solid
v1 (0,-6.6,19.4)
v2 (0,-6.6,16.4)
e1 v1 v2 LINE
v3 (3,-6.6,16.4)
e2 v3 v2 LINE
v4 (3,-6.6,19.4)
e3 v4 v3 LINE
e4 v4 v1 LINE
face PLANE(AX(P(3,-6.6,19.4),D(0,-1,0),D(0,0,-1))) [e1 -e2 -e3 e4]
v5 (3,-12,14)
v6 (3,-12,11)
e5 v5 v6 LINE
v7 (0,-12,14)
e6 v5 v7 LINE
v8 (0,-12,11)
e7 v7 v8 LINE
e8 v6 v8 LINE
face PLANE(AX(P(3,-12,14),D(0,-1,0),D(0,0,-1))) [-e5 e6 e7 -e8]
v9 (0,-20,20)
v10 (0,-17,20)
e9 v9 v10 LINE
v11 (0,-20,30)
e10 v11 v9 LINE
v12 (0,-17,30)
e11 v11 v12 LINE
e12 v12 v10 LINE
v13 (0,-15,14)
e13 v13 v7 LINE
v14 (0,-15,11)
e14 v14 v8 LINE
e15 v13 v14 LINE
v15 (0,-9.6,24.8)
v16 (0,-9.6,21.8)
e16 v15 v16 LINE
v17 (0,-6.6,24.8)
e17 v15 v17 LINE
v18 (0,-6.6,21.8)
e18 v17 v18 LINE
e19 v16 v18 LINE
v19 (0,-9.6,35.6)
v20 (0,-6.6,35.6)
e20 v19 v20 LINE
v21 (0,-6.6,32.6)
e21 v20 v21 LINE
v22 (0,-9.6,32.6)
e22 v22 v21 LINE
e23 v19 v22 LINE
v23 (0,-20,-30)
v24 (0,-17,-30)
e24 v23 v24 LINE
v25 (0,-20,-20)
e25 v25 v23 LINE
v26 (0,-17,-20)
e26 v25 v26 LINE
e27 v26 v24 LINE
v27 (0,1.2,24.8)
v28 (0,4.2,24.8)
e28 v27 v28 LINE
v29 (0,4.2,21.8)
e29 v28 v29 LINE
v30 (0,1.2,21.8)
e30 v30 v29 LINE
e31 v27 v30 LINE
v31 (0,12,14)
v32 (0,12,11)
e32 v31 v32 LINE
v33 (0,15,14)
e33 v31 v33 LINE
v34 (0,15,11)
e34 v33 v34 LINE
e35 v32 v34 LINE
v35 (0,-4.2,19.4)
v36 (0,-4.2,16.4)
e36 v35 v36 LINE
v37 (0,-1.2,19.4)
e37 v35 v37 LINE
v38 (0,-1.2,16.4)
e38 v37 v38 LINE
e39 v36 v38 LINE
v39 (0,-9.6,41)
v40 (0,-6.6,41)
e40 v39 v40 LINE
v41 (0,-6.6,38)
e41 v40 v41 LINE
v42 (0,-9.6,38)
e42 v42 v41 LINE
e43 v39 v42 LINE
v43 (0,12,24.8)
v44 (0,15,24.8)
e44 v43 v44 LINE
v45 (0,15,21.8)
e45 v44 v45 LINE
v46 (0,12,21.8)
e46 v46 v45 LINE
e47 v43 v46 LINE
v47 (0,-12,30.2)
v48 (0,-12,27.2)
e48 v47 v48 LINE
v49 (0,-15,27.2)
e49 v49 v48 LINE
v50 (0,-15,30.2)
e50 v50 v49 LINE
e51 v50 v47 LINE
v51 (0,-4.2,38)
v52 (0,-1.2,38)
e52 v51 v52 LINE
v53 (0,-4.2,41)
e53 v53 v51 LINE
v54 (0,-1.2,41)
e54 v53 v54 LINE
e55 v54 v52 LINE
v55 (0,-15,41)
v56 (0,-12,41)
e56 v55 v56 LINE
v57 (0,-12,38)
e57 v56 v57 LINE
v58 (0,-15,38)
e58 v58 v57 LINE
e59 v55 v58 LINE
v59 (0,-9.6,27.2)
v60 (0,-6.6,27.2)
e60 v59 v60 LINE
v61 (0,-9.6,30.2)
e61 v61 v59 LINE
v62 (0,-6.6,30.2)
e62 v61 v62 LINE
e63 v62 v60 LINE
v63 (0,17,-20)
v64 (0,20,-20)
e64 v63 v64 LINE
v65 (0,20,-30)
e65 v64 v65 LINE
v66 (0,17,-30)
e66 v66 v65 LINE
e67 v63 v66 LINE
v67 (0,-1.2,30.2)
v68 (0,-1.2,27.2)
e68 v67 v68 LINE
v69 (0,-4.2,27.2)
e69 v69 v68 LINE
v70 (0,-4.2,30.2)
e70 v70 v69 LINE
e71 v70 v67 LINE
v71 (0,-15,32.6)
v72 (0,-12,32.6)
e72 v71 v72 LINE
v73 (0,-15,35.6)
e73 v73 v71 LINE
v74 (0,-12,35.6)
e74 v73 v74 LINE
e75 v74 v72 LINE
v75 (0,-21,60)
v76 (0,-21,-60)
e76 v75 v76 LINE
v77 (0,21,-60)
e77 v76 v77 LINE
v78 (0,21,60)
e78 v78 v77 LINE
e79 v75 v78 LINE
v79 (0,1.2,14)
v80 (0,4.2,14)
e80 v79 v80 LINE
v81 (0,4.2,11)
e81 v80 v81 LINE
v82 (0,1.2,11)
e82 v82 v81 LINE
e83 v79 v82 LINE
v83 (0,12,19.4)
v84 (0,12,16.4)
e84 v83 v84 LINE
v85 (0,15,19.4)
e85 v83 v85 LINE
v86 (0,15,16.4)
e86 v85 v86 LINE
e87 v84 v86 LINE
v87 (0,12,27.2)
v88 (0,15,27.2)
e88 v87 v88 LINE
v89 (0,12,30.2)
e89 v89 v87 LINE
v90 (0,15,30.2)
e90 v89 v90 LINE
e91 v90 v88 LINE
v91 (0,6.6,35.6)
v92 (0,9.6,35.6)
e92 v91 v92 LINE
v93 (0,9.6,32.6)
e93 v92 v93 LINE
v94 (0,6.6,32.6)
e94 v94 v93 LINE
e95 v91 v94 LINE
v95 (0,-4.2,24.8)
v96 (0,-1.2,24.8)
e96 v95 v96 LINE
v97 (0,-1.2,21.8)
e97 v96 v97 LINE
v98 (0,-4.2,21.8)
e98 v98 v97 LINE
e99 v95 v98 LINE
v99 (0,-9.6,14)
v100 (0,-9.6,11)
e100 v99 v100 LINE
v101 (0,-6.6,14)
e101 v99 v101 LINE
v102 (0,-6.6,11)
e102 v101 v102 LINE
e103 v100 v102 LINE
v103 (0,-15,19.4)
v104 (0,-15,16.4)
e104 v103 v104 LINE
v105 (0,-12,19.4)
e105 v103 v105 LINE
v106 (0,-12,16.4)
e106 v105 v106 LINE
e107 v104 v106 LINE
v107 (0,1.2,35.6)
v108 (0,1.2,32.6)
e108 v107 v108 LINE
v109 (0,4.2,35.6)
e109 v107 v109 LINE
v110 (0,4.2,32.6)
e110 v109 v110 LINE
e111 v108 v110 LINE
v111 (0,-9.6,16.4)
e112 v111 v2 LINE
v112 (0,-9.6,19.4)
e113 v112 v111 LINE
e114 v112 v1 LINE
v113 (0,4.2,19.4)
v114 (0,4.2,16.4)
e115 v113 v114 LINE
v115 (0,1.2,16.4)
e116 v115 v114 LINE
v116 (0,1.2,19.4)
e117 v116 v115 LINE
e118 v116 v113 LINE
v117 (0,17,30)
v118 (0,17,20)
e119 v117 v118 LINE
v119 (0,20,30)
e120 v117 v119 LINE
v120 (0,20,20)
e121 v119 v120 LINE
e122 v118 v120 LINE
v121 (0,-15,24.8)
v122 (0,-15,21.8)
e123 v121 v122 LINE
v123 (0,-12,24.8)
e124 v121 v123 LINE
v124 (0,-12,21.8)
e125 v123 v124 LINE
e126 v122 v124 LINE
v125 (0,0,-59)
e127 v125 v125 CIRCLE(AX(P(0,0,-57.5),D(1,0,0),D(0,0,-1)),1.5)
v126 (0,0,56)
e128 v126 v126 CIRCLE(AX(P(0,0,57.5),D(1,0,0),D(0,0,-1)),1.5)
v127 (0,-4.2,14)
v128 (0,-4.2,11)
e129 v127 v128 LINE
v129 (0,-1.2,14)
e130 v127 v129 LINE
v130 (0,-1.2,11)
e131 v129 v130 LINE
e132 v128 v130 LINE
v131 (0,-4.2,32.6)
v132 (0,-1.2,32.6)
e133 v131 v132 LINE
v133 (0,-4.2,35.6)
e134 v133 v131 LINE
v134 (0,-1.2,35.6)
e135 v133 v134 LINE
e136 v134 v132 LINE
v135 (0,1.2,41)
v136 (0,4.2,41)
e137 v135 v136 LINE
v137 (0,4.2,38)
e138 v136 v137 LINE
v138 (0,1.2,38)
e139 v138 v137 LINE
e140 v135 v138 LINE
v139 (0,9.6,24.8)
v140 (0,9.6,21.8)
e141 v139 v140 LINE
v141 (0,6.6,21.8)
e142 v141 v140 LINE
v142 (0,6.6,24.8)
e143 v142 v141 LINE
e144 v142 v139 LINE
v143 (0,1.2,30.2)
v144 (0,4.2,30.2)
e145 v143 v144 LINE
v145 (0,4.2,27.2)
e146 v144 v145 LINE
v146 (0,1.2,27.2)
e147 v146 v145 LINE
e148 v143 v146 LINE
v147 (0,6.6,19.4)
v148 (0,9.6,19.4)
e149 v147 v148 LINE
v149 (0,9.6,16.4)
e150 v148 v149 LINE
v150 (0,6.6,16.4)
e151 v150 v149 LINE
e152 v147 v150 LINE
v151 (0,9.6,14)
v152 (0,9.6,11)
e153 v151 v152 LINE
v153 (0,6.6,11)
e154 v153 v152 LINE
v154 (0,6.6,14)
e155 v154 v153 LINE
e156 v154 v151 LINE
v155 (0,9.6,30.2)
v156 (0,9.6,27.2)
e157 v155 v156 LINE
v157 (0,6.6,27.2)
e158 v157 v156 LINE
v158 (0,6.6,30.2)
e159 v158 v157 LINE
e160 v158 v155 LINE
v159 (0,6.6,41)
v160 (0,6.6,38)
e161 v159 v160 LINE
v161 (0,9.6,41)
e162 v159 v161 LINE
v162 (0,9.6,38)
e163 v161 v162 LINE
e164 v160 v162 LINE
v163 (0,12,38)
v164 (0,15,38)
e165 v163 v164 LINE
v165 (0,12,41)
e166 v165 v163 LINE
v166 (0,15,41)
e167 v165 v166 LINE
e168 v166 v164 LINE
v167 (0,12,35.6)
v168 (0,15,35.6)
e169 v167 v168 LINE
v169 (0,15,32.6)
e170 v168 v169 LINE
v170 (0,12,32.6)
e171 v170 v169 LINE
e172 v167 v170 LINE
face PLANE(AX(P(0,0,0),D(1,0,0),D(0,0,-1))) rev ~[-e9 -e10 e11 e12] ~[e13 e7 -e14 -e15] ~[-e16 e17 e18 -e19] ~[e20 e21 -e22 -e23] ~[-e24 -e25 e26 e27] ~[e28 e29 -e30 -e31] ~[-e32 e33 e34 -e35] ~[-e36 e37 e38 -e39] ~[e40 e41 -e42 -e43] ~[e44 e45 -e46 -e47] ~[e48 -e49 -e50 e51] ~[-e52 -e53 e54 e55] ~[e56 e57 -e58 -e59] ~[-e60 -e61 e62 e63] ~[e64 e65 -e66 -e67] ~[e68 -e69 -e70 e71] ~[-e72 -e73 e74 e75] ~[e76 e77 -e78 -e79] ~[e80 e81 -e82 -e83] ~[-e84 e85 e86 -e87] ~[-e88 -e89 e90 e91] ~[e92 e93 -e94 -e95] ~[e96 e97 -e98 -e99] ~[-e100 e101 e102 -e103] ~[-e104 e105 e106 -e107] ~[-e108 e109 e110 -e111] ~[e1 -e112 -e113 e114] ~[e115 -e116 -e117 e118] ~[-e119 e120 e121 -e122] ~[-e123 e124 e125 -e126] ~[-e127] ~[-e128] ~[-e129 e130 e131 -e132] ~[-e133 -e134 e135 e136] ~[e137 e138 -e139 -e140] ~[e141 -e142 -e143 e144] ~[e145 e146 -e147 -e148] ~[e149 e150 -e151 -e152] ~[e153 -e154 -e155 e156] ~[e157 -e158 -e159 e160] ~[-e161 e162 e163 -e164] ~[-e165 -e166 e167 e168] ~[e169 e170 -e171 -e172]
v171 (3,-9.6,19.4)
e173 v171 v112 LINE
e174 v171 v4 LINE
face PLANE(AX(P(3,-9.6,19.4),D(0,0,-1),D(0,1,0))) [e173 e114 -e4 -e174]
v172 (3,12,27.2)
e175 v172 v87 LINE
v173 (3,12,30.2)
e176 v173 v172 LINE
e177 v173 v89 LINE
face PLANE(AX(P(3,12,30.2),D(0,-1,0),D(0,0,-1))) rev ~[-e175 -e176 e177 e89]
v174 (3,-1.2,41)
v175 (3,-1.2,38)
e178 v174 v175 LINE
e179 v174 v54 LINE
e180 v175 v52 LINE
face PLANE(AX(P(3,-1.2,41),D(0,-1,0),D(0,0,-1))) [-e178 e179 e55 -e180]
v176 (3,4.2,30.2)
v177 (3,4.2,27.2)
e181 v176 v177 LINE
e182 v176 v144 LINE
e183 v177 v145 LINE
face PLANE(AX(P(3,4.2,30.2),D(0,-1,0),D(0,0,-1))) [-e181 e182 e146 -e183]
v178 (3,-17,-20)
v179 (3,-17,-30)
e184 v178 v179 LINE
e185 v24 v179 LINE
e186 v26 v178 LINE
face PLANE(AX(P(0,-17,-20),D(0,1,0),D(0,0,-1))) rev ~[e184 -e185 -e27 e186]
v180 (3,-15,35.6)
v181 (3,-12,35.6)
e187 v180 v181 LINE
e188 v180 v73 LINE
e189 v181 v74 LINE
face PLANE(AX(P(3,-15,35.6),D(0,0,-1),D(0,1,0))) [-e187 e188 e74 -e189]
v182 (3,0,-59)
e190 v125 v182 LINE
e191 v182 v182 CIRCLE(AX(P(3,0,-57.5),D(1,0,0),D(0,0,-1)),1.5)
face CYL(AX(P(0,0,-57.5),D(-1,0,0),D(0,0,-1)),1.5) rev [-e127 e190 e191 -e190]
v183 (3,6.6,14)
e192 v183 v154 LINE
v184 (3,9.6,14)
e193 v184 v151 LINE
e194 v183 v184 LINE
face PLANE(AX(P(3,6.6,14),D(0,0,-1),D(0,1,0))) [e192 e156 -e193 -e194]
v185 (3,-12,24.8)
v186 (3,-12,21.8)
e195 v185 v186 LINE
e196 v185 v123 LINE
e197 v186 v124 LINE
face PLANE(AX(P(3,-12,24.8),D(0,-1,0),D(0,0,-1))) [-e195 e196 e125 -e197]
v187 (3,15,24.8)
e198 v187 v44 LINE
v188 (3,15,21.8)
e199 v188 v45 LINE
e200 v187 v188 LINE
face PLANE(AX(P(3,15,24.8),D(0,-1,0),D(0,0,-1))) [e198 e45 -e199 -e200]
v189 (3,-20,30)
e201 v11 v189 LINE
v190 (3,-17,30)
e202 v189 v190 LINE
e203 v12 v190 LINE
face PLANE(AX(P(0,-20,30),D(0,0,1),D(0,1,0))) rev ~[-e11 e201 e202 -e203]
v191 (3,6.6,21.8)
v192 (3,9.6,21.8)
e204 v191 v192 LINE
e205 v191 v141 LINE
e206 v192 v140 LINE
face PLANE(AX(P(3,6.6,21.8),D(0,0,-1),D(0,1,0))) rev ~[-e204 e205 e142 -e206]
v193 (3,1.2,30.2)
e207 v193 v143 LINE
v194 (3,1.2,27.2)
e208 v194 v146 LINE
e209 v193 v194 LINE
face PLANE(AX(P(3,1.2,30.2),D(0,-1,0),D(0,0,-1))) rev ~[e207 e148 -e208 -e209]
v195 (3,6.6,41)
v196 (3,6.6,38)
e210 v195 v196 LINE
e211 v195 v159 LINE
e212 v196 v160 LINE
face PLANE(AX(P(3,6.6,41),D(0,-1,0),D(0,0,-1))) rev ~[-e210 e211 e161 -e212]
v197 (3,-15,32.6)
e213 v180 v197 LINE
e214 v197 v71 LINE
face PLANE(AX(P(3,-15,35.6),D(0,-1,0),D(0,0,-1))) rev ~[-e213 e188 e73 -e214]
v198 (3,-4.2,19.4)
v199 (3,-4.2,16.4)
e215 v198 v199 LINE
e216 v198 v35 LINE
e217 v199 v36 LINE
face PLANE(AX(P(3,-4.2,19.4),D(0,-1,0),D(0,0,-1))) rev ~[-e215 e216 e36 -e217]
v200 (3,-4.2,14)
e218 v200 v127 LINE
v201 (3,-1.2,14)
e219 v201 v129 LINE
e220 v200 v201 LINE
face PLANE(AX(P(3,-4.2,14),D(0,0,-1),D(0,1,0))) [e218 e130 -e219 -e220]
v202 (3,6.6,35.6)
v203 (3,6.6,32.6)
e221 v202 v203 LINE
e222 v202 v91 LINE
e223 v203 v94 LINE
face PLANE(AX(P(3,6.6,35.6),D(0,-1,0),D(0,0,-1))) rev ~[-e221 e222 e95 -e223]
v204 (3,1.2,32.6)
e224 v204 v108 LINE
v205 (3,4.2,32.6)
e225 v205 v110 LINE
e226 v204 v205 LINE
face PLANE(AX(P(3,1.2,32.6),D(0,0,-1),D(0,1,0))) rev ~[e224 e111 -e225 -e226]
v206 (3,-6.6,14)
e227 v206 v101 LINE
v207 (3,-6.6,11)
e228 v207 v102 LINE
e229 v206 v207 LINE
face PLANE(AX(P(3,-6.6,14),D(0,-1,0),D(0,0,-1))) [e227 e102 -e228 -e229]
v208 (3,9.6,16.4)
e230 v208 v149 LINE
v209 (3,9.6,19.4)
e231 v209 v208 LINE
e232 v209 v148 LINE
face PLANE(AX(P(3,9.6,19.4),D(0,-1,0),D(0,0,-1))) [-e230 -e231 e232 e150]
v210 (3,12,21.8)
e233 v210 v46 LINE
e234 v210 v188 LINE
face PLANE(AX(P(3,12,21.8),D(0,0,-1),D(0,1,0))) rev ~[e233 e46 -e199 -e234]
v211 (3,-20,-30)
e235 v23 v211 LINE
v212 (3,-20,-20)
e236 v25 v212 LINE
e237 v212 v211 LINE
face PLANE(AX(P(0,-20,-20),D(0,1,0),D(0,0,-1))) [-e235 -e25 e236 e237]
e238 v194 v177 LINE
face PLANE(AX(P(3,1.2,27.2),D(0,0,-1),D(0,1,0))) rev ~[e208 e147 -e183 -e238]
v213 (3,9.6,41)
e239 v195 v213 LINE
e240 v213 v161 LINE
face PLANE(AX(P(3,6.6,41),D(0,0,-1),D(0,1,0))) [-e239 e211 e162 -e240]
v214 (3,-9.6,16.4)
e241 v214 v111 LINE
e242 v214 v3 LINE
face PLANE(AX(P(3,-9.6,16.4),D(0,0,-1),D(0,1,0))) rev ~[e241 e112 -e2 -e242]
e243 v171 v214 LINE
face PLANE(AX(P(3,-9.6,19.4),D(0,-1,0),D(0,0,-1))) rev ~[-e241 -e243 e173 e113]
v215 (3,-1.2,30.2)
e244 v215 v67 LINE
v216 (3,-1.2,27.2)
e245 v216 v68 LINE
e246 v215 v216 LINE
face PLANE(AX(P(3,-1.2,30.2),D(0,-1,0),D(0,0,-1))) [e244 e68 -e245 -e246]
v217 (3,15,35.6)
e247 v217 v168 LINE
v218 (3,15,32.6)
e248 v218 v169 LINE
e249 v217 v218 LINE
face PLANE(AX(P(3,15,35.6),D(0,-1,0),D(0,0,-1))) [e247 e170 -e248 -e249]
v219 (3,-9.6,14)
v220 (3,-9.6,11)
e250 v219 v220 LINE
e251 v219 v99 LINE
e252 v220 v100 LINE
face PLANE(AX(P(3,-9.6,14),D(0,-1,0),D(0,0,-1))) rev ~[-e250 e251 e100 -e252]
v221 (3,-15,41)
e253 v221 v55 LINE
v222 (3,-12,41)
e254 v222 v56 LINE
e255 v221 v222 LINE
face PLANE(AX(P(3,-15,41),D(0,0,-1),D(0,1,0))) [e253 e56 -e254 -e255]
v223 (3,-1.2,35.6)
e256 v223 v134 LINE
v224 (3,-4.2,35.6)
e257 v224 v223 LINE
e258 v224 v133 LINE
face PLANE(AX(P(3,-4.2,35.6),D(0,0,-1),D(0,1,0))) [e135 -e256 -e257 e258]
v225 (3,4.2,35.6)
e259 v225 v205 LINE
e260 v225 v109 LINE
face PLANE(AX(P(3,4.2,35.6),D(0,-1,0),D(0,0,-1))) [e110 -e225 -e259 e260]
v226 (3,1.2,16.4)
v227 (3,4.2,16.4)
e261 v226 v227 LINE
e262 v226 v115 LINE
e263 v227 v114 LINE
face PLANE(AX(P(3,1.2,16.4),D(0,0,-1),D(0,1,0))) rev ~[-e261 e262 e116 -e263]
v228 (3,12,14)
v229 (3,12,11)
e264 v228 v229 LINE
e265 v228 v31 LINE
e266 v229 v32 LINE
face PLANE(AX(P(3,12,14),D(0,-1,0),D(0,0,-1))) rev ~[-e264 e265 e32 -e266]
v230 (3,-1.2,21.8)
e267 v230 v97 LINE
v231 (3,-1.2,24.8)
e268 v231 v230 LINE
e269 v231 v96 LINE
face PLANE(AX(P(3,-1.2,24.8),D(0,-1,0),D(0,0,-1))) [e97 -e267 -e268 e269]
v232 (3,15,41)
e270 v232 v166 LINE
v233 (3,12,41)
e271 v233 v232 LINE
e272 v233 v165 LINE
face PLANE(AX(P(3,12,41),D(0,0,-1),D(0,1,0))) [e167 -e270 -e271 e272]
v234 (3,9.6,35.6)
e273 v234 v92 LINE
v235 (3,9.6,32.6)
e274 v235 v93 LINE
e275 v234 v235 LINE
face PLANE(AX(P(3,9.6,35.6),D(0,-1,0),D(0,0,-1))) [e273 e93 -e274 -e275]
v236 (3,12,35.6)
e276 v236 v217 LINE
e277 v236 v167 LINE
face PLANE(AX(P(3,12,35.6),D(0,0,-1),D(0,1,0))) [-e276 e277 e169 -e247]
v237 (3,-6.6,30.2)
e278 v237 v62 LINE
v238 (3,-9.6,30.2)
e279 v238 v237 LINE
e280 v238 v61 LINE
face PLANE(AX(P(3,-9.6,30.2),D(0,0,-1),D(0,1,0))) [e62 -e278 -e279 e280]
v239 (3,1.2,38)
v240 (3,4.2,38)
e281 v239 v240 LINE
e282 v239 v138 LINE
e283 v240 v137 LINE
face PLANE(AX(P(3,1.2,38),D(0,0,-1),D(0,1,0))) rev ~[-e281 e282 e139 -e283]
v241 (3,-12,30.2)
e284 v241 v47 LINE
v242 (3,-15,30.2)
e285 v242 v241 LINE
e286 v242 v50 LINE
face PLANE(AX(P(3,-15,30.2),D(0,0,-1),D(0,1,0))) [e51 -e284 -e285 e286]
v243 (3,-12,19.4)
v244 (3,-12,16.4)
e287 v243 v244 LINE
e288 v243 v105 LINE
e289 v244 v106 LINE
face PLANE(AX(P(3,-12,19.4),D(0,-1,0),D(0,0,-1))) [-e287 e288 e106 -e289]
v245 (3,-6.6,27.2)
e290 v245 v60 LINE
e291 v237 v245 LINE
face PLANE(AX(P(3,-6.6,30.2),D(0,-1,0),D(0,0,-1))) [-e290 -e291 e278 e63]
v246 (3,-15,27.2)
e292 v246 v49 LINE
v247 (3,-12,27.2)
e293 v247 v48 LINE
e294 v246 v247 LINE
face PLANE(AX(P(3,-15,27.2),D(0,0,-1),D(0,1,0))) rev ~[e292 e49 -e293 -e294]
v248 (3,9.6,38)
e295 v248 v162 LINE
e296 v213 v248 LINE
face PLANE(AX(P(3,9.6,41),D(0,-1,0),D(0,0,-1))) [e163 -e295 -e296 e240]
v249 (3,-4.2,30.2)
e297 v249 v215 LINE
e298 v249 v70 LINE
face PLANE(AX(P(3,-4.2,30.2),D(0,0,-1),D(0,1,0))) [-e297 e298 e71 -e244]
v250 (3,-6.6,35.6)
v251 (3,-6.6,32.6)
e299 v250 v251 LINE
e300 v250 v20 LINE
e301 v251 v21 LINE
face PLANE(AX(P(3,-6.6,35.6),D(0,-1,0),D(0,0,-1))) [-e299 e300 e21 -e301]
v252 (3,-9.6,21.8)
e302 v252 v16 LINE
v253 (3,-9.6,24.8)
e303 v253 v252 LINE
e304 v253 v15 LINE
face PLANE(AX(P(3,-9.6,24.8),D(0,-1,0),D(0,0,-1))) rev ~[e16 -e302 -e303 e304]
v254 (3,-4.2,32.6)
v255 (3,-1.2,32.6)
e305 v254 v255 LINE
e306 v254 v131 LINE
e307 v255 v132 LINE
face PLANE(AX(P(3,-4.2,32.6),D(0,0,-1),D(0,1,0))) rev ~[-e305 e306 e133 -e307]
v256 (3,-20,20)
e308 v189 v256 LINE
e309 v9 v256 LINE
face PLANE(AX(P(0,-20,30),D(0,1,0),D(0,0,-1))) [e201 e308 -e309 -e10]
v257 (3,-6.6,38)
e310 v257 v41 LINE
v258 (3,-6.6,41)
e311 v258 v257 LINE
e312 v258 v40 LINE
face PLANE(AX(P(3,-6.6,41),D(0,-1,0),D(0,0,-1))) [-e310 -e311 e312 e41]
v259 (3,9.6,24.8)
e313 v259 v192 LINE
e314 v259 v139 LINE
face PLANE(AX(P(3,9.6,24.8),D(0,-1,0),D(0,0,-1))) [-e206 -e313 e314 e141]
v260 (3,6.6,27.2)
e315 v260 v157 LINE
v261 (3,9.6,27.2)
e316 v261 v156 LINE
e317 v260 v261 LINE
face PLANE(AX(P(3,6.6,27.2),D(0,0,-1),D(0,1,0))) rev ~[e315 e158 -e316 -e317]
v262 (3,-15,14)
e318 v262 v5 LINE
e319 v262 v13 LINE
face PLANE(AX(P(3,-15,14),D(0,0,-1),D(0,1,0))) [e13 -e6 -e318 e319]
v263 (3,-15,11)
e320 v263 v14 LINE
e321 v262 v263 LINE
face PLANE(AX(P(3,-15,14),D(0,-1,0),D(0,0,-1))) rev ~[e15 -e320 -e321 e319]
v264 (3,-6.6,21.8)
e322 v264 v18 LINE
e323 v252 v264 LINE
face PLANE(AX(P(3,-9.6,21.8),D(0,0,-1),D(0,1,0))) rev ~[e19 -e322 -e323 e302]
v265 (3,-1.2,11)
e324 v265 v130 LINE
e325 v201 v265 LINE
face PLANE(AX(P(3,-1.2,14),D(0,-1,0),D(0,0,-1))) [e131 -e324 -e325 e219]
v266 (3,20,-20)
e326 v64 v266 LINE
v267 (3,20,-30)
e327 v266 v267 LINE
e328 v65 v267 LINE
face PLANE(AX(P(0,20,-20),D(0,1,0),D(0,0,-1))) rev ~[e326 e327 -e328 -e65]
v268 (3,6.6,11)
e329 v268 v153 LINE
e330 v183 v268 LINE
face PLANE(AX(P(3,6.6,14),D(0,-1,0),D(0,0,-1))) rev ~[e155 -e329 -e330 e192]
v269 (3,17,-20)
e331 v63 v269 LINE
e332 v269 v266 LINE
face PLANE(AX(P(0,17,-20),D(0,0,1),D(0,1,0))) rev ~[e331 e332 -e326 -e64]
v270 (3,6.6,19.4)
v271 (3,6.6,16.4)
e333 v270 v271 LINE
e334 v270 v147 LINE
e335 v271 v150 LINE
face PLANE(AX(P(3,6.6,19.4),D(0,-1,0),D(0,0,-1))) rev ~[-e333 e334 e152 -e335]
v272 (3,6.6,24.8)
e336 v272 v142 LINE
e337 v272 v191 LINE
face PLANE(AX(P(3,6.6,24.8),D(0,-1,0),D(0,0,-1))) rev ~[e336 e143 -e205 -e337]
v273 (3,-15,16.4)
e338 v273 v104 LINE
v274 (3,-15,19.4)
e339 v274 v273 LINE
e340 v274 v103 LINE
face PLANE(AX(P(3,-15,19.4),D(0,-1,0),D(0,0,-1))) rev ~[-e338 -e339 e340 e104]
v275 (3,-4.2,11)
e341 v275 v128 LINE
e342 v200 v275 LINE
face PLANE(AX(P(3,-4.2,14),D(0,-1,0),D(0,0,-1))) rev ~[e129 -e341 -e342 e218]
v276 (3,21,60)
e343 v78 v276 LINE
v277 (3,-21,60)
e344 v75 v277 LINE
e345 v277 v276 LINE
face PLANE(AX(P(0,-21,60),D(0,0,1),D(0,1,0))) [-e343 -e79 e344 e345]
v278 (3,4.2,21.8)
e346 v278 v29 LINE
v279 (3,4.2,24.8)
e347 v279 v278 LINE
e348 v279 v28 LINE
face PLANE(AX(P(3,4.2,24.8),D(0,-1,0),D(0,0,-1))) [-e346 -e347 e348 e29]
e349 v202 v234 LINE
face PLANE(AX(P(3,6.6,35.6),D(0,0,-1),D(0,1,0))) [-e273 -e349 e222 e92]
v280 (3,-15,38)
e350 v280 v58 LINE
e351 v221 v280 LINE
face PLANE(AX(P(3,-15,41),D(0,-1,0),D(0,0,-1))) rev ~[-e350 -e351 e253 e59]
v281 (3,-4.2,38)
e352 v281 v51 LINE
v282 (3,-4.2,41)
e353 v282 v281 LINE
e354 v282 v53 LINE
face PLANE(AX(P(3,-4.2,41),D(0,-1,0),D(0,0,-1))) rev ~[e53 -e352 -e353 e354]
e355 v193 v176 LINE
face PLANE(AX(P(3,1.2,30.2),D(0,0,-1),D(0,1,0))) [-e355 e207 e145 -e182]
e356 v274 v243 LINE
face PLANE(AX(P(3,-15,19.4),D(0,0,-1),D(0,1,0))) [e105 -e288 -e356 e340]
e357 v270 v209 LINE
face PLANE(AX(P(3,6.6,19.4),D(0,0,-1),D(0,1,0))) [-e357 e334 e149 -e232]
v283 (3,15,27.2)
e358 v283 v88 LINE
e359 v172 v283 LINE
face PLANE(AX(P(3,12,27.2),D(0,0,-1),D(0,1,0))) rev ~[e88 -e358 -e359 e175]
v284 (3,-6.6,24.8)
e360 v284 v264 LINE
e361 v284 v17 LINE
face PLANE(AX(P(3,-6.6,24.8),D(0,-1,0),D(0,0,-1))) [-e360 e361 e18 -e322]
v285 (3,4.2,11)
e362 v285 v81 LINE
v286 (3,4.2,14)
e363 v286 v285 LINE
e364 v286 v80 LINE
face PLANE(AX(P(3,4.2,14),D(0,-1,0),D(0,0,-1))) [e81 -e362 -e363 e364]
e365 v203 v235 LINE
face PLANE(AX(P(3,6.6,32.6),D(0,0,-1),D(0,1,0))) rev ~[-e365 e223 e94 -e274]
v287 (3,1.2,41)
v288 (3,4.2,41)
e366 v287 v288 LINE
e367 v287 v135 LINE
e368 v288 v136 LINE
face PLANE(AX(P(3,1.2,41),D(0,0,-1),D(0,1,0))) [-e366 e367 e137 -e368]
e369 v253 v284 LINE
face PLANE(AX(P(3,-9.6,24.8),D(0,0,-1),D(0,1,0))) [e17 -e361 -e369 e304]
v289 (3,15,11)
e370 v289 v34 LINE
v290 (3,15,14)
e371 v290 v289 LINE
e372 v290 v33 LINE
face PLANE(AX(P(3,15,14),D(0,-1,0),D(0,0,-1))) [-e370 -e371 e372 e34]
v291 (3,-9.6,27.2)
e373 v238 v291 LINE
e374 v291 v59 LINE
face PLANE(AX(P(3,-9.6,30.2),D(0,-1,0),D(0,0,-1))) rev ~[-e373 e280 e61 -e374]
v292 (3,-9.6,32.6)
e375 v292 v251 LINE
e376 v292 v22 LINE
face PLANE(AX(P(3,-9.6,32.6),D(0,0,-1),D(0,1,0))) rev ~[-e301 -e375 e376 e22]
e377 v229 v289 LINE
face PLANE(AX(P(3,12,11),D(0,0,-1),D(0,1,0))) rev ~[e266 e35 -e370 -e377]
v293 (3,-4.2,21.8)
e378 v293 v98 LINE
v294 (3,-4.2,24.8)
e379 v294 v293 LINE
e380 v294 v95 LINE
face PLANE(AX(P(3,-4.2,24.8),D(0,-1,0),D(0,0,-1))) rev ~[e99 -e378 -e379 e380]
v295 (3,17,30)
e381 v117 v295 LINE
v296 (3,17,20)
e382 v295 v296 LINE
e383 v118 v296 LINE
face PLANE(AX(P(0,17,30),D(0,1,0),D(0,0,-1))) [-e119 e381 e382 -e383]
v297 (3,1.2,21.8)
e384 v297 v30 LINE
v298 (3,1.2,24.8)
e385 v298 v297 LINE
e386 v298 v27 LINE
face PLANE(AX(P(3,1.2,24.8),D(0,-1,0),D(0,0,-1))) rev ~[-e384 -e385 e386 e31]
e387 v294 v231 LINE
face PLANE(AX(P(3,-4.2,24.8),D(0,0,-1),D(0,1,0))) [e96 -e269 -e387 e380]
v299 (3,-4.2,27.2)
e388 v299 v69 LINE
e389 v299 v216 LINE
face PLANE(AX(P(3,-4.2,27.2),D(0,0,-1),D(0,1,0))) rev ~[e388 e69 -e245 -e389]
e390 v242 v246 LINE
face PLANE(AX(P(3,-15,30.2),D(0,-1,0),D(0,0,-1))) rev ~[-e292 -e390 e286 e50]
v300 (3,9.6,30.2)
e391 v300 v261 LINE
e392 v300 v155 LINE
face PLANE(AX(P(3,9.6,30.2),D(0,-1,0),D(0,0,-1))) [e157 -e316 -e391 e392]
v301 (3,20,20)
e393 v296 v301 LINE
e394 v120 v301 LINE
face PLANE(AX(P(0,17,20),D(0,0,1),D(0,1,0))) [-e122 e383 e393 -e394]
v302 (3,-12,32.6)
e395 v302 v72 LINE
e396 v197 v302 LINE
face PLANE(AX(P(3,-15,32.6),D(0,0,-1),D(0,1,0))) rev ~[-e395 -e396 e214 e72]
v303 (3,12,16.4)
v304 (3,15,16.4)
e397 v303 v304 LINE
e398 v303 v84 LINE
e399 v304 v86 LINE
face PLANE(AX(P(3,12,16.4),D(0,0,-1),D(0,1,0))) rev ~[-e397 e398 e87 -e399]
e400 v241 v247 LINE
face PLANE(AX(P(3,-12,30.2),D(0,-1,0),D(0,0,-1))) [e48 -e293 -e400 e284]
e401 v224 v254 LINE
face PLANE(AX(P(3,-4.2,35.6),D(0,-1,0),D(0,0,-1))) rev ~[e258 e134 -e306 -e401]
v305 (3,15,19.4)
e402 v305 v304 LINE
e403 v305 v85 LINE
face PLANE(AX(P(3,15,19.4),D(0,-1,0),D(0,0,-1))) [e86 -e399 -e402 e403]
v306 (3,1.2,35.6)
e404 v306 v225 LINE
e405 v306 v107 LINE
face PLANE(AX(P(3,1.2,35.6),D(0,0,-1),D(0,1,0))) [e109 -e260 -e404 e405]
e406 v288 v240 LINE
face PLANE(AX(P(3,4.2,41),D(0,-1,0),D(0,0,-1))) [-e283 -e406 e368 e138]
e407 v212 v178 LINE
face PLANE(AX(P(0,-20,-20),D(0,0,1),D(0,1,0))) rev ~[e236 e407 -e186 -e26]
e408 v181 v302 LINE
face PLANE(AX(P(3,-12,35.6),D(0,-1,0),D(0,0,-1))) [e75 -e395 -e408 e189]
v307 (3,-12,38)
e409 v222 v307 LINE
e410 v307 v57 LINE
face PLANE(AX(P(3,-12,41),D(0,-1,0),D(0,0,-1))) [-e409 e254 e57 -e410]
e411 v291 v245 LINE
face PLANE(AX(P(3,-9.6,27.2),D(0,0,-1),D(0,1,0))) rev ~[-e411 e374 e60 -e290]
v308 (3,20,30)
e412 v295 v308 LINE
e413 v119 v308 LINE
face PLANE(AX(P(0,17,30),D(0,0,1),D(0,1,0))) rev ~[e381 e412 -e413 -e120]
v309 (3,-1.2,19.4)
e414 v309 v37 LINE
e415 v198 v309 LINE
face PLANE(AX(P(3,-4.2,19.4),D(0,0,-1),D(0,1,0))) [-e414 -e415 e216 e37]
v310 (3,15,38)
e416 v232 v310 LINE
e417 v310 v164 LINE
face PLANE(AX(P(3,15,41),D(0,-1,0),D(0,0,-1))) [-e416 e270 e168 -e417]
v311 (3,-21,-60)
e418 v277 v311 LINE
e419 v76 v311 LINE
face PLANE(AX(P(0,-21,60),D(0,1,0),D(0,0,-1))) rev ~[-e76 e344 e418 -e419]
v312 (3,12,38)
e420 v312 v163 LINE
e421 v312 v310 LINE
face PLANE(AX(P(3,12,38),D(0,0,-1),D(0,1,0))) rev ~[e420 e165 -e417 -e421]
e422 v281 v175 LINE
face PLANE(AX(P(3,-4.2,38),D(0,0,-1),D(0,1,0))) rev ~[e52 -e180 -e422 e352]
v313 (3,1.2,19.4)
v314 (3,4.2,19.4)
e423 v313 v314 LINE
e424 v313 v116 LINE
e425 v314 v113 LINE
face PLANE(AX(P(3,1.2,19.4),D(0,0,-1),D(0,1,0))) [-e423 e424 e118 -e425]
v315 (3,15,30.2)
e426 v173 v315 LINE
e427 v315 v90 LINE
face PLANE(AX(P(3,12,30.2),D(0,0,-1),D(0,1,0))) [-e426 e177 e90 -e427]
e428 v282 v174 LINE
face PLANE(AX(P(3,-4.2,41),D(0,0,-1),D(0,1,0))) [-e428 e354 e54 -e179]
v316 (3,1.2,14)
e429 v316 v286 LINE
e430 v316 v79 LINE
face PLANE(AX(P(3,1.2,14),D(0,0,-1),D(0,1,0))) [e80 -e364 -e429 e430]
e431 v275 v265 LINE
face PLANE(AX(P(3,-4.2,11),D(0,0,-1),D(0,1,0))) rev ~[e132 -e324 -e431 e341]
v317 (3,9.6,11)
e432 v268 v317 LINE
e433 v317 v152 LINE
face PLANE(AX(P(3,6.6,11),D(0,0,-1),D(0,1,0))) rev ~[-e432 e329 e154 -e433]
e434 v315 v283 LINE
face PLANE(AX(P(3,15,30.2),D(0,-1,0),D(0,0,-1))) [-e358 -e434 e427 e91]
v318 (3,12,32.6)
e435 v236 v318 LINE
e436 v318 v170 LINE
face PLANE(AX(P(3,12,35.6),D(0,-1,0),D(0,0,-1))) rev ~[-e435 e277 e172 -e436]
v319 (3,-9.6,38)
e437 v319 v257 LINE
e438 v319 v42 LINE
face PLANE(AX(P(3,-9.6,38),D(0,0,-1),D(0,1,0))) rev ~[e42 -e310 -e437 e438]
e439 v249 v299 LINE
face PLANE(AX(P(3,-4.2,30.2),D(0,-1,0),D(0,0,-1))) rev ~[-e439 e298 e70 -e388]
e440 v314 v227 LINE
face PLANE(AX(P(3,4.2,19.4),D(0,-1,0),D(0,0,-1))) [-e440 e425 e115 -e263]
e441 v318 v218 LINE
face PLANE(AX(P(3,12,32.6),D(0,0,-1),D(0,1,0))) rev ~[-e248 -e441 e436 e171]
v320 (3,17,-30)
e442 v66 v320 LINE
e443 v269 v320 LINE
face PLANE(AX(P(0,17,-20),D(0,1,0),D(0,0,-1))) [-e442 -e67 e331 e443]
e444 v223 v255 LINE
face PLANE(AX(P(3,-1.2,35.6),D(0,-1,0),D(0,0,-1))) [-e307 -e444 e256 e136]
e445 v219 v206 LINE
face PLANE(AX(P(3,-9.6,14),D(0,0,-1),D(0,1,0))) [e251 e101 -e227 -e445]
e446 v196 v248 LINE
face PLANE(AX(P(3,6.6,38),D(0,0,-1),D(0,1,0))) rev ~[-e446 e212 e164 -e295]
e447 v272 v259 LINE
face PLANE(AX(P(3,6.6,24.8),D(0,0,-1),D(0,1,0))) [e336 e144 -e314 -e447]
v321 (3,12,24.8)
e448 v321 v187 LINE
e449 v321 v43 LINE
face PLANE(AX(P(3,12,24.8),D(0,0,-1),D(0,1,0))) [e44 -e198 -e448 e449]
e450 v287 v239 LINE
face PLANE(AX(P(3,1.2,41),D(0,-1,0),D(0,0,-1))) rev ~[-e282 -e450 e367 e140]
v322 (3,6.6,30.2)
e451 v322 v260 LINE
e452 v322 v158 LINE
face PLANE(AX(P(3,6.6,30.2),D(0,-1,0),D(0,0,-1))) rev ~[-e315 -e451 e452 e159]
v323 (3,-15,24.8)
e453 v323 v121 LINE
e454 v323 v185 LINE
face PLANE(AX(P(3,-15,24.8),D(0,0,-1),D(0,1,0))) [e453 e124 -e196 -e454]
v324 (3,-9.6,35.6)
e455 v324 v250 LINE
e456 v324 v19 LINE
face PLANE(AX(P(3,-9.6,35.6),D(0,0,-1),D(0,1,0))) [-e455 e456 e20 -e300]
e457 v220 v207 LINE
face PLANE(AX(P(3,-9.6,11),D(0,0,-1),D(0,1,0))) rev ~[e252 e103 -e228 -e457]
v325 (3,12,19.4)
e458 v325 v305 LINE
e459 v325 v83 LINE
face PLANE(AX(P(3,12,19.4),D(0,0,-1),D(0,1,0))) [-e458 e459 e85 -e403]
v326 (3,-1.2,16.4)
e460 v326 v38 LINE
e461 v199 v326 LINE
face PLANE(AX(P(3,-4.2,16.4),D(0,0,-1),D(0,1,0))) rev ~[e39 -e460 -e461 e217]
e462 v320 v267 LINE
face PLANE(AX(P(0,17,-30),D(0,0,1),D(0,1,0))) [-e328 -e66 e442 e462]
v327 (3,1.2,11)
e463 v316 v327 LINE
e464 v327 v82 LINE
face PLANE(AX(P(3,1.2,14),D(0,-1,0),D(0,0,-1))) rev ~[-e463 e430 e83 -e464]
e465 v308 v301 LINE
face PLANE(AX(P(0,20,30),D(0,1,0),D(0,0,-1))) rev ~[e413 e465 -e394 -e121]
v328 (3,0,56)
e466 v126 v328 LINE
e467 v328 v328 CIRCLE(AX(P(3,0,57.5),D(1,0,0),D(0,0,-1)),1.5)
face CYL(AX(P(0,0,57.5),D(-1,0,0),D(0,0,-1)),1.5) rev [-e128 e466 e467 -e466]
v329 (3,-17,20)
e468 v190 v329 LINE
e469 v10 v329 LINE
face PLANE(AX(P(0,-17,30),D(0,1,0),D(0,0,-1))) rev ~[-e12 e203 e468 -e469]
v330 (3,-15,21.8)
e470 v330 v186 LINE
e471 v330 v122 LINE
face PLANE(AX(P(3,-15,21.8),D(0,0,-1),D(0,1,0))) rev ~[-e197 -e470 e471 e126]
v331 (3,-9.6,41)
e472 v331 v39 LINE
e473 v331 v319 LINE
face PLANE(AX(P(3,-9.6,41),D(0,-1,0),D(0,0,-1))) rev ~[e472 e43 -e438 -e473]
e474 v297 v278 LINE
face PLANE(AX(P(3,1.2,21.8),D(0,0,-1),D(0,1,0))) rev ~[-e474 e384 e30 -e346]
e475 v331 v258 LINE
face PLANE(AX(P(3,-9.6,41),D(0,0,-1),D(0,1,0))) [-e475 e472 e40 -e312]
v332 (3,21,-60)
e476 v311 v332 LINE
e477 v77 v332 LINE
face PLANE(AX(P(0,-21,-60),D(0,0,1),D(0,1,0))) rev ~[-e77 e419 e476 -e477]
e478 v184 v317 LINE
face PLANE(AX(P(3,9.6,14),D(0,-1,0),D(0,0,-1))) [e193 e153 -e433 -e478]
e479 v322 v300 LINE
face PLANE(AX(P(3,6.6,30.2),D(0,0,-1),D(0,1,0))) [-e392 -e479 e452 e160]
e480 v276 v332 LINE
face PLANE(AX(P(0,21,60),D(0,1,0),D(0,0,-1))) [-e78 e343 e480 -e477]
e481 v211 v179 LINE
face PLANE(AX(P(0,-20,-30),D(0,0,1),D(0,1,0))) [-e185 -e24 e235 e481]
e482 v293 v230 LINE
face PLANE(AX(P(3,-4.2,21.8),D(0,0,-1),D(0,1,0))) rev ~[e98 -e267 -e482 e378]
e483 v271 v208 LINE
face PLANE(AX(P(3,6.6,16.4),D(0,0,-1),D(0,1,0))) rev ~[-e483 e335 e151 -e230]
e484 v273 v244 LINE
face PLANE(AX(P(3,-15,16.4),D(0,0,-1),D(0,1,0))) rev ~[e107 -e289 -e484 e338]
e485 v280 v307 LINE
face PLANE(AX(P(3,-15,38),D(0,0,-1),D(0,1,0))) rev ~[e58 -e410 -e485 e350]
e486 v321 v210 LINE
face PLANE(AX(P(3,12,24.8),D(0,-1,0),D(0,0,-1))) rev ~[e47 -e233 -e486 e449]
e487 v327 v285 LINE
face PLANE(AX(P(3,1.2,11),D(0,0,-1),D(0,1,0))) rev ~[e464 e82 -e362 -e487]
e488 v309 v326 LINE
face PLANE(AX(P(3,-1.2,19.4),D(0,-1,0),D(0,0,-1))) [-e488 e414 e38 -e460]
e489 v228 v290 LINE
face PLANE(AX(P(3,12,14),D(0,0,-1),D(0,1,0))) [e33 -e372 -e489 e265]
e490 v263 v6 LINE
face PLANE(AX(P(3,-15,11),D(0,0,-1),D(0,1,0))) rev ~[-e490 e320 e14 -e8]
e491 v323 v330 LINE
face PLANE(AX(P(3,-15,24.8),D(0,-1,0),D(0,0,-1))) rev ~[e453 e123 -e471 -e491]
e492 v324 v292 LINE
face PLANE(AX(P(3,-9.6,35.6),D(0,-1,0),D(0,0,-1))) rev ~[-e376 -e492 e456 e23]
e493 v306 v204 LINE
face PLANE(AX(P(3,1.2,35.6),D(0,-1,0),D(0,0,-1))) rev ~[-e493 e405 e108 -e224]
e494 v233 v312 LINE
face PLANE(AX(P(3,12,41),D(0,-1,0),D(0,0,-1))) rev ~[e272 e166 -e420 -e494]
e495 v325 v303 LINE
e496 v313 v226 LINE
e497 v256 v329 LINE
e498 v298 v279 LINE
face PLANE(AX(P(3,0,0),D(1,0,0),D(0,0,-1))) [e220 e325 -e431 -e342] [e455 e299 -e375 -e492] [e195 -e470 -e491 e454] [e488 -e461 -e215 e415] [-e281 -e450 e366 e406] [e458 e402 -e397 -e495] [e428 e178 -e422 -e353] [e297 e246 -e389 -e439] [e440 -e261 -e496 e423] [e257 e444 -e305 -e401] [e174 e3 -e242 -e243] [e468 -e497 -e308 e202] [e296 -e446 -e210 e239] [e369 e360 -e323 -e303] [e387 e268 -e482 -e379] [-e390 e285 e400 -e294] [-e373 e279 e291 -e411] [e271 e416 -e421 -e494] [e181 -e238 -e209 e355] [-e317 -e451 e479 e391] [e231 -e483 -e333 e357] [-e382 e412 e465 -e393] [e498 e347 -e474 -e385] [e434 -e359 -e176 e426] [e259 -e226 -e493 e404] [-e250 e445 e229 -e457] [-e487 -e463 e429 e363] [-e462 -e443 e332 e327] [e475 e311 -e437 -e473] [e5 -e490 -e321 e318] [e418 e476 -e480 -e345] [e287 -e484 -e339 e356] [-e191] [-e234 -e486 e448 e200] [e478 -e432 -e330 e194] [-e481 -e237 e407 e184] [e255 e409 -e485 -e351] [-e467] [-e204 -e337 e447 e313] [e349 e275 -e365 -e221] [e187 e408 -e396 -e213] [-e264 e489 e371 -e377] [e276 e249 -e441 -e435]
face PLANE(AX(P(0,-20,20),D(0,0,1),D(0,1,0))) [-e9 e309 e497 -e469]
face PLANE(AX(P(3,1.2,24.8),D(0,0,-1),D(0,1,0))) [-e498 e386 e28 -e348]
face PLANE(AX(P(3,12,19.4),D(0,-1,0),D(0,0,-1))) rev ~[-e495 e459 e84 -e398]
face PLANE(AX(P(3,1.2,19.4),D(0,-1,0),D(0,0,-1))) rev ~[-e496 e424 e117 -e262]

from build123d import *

# Parameters (mm, degrees)
SKETCH1_W            = 120
SKETCH1_H            = 42
SKETCH1_R            = 1.5
SKETCH1_W_2          = 10
SKETCH1_H_2          = 3
BOSS_EXTRUDE1_DEPTH  = 3
SKETCH2_W            = 3
SKETCH2_H            = 3
CUT_EXTRUDE1_DEPTH   = 3
LPATTERN1_COUNT      = 6
LPATTERN1_PITCH      = 5.4
LPATTERN1_COUNT_DIR2 = 6
LPATTERN1_PITCH_DIR2 = 5.4


with BuildPart() as part:
    # Sketch1 → Boss-Extrude1 (new body)
    with BuildSketch(Plane(origin=(0, 0, 0), x_dir=(0, 0, -1), z_dir=(1, 0, 0))):
        Rectangle(SKETCH1_W, SKETCH1_H)
        with Locations((-57.5, 0)):
            Circle(SKETCH1_R, mode=Mode.SUBTRACT)
        with Locations((57.5, 0)):
            Circle(SKETCH1_R, mode=Mode.SUBTRACT)
        with Locations((25, 18.5)):
            Rectangle(SKETCH1_W_2, SKETCH1_H_2, mode=Mode.SUBTRACT)
        with Locations((-25, 18.5)):
            Rectangle(SKETCH1_W_2, SKETCH1_H_2, mode=Mode.SUBTRACT)
        with Locations((-25, -18.5)):
            Rectangle(SKETCH1_W_2, SKETCH1_H_2, mode=Mode.SUBTRACT)
        with Locations((25, -18.5)):
            Rectangle(SKETCH1_W_2, SKETCH1_H_2, mode=Mode.SUBTRACT)
    extrude(amount=BOSS_EXTRUDE1_DEPTH)

    # Sketch2 → Cut-Extrude1 (cut)
    with BuildSketch(Plane(origin=(3, 0, 0), x_dir=(0, 0, -1), z_dir=(1, 0, 0))):
        with Locations((-12.5, 13.5)):
            Rectangle(SKETCH2_W, SKETCH2_H)
    cut_extrude1 = extrude(amount=-CUT_EXTRUDE1_DEPTH, mode=Mode.SUBTRACT)

    # LPattern1: Cut-Extrude1 6 × 6
    with Locations(*[(0, -j * LPATTERN1_PITCH_DIR2, i * LPATTERN1_PITCH) for i in range(LPATTERN1_COUNT) for j in range(LPATTERN1_COUNT_DIR2) if (i, j) != (0, 0)]):
        add(cut_extrude1, mode=Mode.SUBTRACT)


solid = part.part
